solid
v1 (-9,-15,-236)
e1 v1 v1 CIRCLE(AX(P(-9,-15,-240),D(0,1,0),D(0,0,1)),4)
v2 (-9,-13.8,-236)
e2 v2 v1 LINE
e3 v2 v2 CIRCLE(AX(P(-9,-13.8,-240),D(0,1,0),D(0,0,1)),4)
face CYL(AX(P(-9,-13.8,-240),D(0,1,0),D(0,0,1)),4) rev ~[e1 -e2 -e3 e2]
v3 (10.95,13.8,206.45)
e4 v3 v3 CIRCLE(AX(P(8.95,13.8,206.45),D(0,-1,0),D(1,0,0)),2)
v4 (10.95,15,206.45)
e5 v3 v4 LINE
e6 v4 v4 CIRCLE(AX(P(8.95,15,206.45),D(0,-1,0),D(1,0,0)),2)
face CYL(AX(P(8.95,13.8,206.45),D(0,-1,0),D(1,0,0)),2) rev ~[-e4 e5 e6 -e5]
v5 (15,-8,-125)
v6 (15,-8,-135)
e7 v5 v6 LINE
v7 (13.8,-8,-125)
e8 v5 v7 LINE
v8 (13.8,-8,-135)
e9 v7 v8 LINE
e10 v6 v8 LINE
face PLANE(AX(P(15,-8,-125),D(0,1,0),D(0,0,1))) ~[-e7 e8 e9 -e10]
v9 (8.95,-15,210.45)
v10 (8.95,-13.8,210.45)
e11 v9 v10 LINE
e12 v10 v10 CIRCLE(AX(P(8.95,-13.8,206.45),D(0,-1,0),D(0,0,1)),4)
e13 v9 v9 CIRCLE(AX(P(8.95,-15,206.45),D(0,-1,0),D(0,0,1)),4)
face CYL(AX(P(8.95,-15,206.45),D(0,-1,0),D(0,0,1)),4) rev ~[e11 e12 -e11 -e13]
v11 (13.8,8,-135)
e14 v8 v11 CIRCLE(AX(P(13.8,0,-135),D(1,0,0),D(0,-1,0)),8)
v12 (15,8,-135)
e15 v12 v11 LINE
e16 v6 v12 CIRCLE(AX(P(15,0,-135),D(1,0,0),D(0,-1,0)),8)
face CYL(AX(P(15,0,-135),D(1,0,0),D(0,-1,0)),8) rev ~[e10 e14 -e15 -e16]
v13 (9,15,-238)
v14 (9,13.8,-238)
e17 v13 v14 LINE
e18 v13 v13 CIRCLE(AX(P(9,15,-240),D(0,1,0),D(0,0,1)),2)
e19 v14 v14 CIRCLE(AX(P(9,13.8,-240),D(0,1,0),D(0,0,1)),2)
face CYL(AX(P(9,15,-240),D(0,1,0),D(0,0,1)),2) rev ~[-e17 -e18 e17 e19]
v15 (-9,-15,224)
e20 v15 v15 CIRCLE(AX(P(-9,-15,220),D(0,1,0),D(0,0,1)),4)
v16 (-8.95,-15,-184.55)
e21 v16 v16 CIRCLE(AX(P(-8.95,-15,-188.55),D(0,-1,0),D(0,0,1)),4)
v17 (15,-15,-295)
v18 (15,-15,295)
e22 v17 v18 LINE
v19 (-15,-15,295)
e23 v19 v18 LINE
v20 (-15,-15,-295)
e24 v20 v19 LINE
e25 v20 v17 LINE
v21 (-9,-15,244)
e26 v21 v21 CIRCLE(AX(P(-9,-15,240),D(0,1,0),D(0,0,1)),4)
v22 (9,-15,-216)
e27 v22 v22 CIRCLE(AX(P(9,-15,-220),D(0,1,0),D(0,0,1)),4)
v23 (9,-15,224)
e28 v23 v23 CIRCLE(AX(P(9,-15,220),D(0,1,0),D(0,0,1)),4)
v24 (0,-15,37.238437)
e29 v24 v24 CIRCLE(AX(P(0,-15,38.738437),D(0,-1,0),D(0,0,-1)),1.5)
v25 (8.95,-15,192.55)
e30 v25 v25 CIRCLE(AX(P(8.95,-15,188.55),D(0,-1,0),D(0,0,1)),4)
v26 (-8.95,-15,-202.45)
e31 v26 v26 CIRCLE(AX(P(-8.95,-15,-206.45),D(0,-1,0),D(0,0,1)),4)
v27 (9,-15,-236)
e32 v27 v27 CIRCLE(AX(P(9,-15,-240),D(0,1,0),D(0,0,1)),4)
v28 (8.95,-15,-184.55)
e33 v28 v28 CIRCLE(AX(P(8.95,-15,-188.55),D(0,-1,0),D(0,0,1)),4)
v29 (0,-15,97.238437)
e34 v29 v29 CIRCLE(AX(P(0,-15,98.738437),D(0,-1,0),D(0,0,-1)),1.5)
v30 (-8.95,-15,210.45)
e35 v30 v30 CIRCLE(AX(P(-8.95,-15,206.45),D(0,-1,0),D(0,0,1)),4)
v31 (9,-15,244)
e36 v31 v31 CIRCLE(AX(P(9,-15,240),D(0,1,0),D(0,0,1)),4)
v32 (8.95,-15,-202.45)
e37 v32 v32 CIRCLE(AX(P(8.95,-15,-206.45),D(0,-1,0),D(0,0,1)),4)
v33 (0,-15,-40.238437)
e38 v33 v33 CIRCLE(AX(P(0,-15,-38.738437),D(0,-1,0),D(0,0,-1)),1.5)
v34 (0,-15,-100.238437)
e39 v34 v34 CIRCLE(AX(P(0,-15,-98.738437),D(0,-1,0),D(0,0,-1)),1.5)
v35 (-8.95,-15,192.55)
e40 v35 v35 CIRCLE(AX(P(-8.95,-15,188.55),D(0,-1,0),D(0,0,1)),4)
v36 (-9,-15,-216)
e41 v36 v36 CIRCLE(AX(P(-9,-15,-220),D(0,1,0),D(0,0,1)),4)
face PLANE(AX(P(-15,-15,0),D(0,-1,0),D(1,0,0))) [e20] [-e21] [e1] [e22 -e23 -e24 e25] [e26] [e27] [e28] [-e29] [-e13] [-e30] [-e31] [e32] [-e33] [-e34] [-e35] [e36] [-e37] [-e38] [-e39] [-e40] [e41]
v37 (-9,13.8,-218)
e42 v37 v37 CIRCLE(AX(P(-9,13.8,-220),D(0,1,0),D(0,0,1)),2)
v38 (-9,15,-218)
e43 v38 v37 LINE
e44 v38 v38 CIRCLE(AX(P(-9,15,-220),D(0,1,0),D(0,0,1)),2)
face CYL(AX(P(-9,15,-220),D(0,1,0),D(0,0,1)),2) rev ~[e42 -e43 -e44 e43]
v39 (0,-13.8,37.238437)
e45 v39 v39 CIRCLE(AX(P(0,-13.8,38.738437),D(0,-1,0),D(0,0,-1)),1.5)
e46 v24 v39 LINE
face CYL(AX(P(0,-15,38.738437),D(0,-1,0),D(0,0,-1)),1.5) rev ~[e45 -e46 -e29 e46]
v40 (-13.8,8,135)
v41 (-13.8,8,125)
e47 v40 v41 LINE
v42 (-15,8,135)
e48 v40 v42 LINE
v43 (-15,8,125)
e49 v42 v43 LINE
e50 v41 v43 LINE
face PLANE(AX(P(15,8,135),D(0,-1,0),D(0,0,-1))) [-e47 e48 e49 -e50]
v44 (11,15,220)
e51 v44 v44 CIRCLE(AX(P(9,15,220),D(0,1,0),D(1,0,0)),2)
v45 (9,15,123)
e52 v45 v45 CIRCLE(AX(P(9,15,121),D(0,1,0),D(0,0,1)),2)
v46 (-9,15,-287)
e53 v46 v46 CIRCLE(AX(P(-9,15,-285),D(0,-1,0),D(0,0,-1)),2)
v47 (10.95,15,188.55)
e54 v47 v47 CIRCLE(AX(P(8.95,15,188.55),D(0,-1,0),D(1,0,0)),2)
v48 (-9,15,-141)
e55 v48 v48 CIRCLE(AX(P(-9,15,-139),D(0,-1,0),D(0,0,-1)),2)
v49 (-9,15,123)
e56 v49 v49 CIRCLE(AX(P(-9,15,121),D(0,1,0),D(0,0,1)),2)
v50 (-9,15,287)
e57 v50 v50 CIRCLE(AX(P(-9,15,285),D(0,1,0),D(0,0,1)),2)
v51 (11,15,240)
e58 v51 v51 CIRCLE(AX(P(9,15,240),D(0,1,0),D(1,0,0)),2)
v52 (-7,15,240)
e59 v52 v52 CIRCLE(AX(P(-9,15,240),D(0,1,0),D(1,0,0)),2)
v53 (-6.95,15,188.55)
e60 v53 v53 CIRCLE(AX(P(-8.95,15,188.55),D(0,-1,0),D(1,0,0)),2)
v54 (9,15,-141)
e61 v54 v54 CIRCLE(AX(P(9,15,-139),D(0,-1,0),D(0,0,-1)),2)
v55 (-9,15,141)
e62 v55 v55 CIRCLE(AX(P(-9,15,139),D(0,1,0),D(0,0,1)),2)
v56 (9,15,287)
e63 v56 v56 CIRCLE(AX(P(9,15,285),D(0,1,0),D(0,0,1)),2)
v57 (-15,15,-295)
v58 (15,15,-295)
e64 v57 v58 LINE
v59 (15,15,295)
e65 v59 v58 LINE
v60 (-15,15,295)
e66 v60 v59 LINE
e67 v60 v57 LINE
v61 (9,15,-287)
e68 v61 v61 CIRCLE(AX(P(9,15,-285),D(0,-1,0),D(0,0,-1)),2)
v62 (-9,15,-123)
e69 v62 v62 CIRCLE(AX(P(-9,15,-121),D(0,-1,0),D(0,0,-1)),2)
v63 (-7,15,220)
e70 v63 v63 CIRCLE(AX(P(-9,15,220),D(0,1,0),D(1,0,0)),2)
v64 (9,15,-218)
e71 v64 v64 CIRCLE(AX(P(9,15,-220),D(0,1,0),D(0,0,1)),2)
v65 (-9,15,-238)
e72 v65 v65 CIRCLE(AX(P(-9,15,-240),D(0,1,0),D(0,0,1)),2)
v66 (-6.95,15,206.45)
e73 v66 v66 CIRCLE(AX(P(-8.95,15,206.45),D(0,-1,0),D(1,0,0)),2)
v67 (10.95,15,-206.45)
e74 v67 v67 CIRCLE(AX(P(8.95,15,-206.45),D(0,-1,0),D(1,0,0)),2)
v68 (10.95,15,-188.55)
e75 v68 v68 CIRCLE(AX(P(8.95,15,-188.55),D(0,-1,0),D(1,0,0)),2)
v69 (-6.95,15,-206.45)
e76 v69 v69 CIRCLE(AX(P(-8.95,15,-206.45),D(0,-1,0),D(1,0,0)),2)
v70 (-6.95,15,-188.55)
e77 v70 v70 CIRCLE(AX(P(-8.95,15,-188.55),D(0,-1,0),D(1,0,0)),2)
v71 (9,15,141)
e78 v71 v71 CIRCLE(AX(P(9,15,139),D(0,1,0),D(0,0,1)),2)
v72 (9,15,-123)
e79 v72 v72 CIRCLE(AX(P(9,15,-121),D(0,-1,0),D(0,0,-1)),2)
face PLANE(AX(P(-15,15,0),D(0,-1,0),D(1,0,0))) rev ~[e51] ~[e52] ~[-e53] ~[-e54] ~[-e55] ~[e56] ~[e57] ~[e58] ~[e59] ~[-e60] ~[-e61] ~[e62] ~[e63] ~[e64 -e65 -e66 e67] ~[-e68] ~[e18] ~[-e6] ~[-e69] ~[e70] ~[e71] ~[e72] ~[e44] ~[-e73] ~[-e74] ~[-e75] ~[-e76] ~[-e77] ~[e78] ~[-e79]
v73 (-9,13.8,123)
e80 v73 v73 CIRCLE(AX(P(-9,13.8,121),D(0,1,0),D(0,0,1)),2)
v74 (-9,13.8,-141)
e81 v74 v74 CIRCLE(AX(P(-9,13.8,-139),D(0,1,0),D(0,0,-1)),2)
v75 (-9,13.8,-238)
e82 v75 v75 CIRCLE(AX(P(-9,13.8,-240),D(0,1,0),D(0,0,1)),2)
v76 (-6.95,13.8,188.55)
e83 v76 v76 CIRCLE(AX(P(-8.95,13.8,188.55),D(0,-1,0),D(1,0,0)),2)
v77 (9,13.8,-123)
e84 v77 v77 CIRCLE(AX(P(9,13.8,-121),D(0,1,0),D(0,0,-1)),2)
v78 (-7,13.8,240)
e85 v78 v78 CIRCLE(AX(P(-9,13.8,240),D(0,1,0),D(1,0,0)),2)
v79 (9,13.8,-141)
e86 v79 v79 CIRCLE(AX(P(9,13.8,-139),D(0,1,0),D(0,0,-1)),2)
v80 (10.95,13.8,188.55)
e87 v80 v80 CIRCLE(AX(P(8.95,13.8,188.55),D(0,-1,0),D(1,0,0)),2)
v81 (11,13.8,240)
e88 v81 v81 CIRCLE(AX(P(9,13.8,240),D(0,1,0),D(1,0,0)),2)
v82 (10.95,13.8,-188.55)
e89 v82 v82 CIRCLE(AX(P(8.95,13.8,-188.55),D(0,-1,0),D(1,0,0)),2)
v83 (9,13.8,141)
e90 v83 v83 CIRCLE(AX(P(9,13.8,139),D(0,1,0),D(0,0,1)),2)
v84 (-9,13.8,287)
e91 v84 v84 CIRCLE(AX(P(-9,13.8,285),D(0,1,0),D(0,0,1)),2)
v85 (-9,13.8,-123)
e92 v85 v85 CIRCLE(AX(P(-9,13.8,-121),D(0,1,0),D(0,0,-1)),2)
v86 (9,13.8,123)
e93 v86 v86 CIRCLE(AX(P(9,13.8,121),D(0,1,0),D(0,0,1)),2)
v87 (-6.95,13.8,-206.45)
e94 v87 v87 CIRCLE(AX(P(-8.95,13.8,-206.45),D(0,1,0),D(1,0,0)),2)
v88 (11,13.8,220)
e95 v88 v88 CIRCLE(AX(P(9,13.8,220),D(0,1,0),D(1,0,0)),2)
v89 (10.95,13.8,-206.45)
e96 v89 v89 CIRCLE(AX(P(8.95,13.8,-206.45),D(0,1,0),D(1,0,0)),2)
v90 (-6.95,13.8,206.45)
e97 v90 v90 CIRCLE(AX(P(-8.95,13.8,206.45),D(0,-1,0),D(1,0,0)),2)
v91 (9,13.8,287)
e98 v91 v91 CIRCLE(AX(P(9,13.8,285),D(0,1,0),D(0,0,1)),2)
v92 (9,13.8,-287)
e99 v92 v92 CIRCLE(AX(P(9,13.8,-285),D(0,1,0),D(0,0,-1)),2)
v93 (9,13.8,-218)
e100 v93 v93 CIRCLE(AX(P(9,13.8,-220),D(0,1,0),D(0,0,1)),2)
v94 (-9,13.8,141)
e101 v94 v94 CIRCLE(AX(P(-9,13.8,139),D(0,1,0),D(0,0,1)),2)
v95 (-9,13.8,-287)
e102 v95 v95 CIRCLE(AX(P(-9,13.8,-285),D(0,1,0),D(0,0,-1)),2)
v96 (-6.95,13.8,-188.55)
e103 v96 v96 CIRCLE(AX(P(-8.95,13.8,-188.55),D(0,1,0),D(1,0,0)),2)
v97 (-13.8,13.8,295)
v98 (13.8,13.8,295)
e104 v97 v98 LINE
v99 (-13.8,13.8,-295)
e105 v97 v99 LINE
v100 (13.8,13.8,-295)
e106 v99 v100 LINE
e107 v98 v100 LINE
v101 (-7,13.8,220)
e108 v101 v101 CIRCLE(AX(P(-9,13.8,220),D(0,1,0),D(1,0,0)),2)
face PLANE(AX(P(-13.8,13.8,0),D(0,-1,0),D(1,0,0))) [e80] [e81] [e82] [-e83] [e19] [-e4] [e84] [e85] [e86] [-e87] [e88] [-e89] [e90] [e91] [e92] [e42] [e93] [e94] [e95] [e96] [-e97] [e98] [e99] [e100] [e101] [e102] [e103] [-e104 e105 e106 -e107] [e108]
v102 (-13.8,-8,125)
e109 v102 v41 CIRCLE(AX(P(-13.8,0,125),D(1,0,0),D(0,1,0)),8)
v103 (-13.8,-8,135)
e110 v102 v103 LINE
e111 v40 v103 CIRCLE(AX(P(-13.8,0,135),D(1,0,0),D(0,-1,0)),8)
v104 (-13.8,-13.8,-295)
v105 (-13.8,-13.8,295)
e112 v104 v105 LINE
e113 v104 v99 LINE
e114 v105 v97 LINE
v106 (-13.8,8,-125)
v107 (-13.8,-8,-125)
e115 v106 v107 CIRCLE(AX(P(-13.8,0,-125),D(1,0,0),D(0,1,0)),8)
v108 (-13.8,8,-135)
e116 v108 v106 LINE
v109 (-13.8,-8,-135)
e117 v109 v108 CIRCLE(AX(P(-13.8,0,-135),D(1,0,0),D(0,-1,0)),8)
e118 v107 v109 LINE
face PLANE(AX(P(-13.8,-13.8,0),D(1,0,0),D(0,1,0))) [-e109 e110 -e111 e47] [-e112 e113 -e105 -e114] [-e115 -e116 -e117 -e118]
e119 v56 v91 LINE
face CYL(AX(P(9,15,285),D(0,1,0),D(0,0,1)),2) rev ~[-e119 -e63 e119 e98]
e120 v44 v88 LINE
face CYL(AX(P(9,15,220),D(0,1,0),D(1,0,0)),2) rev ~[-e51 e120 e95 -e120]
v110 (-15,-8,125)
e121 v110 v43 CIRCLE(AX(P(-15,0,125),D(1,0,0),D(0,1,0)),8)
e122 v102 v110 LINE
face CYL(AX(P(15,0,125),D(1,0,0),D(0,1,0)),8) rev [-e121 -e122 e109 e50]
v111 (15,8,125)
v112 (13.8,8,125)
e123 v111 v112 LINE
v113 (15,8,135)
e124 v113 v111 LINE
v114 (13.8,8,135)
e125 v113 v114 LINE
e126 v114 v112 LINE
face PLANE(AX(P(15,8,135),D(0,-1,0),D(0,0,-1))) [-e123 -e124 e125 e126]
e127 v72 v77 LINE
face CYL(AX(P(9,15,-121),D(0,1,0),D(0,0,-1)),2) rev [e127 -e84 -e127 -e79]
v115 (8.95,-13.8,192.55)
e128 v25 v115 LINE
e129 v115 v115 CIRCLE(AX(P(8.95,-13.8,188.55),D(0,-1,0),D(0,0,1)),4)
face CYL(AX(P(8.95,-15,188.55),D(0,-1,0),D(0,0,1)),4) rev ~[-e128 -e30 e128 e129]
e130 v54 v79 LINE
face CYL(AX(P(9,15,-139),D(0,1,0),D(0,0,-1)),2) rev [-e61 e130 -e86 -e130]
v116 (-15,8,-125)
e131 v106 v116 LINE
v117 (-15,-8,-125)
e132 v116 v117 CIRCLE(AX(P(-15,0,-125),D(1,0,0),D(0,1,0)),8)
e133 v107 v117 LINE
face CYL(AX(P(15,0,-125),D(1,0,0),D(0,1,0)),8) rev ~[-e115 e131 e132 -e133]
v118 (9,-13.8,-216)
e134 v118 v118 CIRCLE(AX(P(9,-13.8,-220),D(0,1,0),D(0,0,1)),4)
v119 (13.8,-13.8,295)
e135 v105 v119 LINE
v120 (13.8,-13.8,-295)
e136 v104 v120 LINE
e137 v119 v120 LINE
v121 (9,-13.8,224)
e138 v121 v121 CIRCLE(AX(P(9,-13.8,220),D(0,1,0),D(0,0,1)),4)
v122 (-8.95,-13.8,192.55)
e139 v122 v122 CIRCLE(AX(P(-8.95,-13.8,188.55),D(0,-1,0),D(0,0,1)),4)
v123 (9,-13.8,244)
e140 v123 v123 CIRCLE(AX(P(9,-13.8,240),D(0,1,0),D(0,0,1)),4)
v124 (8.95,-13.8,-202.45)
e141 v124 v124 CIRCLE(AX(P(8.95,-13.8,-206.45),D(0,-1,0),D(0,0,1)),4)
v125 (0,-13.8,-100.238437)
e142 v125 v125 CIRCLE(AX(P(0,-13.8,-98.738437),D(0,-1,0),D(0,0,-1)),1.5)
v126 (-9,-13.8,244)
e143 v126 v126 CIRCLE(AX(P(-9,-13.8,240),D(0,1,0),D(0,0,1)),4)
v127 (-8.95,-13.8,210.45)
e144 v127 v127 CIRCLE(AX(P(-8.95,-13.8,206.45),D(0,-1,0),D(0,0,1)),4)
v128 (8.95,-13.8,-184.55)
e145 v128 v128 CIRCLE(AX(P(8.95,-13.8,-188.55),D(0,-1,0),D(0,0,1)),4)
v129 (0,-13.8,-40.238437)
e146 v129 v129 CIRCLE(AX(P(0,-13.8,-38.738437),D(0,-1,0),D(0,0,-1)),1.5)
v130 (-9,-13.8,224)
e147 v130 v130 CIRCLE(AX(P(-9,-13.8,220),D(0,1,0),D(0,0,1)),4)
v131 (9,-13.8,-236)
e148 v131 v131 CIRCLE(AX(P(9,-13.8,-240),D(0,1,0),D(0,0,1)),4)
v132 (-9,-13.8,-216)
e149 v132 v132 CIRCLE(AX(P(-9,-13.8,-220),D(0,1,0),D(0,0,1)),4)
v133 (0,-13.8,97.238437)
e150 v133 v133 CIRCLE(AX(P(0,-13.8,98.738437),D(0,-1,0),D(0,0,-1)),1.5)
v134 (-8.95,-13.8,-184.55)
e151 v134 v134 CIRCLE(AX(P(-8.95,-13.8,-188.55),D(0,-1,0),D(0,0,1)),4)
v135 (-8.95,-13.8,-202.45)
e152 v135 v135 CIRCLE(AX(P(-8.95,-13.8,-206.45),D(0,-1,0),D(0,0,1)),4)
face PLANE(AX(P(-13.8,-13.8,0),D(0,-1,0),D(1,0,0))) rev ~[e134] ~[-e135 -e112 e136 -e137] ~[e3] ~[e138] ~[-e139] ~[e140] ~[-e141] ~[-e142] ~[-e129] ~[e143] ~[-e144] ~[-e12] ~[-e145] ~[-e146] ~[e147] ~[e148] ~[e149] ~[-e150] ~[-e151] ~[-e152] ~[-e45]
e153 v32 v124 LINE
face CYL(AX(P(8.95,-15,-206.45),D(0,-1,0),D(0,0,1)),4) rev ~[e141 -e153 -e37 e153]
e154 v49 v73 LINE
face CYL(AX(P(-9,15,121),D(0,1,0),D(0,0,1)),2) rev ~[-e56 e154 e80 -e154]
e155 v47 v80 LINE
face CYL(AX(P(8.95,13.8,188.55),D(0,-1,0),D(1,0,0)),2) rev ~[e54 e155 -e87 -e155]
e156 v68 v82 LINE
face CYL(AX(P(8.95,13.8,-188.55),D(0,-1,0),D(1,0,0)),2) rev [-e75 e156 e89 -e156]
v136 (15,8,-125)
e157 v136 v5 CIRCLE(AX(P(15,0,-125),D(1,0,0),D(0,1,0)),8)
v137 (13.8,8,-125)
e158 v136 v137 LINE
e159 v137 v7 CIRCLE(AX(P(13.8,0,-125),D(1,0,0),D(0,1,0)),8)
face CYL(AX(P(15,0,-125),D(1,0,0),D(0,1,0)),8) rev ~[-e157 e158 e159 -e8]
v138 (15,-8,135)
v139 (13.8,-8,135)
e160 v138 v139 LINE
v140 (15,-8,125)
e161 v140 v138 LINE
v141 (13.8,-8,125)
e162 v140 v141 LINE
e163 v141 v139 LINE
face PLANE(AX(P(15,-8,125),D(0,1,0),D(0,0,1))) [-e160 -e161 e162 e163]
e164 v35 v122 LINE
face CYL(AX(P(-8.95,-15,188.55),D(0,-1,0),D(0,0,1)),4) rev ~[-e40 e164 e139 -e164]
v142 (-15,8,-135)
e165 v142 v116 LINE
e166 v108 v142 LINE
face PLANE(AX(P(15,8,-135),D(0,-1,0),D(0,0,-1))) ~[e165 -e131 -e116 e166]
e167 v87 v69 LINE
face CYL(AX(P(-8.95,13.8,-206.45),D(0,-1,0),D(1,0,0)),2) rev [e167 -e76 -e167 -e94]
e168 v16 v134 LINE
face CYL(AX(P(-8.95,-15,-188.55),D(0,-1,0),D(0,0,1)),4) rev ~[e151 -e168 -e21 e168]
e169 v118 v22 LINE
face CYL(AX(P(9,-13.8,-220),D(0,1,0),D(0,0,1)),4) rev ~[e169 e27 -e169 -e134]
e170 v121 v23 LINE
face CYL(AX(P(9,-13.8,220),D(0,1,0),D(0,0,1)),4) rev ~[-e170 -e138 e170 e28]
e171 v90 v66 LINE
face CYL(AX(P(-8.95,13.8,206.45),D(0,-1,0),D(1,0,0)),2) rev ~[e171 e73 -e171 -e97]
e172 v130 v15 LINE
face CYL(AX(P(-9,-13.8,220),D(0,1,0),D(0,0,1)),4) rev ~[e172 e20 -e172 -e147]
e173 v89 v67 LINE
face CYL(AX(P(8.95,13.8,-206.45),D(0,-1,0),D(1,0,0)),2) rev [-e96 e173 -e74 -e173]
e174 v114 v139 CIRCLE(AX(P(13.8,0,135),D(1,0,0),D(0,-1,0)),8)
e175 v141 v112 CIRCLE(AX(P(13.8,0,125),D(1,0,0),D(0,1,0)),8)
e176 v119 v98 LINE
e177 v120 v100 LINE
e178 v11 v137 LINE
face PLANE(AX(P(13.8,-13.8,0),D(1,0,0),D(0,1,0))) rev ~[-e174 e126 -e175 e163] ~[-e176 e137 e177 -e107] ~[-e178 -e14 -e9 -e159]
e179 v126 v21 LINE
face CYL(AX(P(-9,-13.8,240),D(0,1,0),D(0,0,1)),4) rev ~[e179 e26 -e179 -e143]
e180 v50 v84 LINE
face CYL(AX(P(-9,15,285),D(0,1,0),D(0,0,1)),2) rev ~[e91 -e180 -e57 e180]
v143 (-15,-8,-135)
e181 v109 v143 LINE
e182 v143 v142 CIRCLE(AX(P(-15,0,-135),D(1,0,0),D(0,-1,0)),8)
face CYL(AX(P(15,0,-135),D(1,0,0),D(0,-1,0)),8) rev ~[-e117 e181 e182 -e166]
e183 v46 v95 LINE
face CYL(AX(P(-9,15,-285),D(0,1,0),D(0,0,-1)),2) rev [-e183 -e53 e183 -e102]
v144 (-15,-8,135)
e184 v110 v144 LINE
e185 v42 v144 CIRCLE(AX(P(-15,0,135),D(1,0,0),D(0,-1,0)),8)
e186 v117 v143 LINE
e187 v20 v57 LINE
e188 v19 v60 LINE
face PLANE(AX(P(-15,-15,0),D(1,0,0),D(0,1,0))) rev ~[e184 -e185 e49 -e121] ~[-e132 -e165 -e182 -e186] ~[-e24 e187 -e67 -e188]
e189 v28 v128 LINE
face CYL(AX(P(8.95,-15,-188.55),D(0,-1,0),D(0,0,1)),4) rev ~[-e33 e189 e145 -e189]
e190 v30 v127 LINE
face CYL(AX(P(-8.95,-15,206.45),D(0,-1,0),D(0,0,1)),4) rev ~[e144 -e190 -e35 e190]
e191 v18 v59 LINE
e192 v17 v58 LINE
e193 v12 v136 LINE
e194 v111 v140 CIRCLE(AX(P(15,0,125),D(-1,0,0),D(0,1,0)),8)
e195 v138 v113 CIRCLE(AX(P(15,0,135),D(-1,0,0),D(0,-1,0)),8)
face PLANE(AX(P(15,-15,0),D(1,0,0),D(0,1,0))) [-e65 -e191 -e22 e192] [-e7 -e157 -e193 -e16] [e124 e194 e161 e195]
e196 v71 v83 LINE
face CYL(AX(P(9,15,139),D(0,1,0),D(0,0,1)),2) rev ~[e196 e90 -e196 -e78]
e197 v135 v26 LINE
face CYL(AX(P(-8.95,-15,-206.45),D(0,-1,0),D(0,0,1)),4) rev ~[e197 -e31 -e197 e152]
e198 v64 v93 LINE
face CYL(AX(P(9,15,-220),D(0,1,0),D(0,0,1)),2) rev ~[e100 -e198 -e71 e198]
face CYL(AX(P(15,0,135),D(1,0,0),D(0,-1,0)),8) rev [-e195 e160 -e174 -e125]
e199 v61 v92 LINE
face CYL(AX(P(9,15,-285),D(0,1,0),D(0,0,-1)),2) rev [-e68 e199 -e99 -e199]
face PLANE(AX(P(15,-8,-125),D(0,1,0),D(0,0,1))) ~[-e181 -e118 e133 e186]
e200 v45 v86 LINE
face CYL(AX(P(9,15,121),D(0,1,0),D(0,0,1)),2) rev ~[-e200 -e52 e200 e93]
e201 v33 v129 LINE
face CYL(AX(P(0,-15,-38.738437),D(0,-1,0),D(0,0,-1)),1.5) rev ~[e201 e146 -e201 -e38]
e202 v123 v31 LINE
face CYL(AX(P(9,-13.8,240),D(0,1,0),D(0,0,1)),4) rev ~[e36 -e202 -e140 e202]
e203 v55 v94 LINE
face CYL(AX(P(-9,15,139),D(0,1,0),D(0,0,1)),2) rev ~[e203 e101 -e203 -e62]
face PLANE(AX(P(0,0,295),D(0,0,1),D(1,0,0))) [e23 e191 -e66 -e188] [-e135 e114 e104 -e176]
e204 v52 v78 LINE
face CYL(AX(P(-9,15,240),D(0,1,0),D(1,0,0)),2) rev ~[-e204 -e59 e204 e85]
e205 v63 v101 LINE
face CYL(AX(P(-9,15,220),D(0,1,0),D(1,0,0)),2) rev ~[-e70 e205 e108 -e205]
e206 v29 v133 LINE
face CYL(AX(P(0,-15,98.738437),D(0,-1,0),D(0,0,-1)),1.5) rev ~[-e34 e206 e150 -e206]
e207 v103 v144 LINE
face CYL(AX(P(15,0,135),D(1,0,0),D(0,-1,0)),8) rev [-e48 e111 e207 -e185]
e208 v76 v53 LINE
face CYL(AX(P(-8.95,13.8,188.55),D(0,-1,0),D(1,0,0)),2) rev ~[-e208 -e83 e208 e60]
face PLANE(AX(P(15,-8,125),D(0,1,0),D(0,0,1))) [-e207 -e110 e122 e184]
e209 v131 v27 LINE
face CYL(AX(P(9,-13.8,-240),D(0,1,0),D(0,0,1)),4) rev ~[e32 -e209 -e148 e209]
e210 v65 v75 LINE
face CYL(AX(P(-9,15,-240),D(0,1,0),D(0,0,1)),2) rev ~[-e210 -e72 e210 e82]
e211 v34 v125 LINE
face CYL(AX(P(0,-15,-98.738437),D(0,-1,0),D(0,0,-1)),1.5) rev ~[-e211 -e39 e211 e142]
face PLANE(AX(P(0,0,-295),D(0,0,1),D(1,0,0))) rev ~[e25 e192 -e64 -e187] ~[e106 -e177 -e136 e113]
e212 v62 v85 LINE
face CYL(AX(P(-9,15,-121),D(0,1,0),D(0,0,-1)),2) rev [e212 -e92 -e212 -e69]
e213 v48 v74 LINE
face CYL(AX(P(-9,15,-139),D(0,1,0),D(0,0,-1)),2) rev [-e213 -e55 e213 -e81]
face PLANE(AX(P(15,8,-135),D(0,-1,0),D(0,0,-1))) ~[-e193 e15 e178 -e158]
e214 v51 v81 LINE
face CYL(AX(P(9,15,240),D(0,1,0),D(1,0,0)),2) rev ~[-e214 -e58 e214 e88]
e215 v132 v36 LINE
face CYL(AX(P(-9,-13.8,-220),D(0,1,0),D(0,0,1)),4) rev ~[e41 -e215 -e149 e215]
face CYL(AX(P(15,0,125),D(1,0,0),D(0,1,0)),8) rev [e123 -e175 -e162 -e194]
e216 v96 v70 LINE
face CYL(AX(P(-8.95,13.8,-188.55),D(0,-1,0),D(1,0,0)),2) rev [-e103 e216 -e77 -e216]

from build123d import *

# Parameters (mm, degrees)
SKETCH_1_W          = 30
SKETCH_1_H          = 30
SKETCH_1_W_2        = 27.6
SKETCH_1_H_2        = 27.6
EXTRUDE_1_DEPTH     = 295
SKETCH_2_R          = 2
CUT_EXTRUDE_1_DEPTH = 10
SKETCH_3_R          = 4
CUT_EXTRUDE_2_DEPTH = 10
CUT_EXTRUDE_3_DEPTH = 111
SKETCH_5_R          = 2
CUT_EXTRUDE_4_DEPTH = 10
SKETCH_6_R          = 2
CUT_EXTRUDE_5_DEPTH = 10
SKETCH_7_R          = 1.5
CUT_EXTRUDE_6_DEPTH = 10
SKETCH_8_R          = 2
CUT_EXTRUDE_7_DEPTH = 46
SKETCH_9_R          = 4
CUT_EXTRUDE_8_DEPTH = 5


with BuildPart() as part:
    # 草图1 → 凸台-拉伸1 (new, symmetric)
    with BuildSketch(Plane.XY):
        Rectangle(SKETCH_1_W, SKETCH_1_H)
        Rectangle(SKETCH_1_W_2, SKETCH_1_H_2, mode=Mode.SUBTRACT)
    extrude(amount=EXTRUDE_1_DEPTH, both=True)

    # 草图2 → 切除-拉伸1 (cut)
    with BuildSketch(Plane(origin=(0, 15, 0), x_dir=(1, 0, 0), z_dir=(0, 1, 0))):
        with Locations(Location((-9, 220, 0), (0, 0, 270))):
            Circle(SKETCH_2_R)
        with Locations(Location((9, 220, 0), (0, 0, 270))):
            Circle(SKETCH_2_R)
        with Locations(Location((-9, 240, 0), (0, 0, 270))):
            Circle(SKETCH_2_R)
        with Locations(Location((9, 240, 0), (0, 0, 270))):
            Circle(SKETCH_2_R)
        with Locations((9, -240)):
            Circle(SKETCH_2_R)
        with Locations((-9, -240)):
            Circle(SKETCH_2_R)
        with Locations((9, -220)):
            Circle(SKETCH_2_R)
        with Locations((-9, -220)):
            Circle(SKETCH_2_R)
    extrude(amount=-CUT_EXTRUDE_1_DEPTH, mode=Mode.SUBTRACT)

    # 草图3 → 切除-拉伸2 (cut)
    with BuildSketch(Plane(origin=(0, -13.8, 0), x_dir=(1, 0, 0), z_dir=(0, 1, 0))):
        with Locations(Location((-9, 240, 0), (0, 0, 270))):
            Circle(SKETCH_3_R)
        with Locations(Location((9, 240, 0), (0, 0, 270))):
            Circle(SKETCH_3_R)
        with Locations(Location((-9, 220, 0), (0, 0, 270))):
            Circle(SKETCH_3_R)
        with Locations(Location((9, 220, 0), (0, 0, 270))):
            Circle(SKETCH_3_R)
        with Locations(Location((9, -220, 0), (0, 0, 270))):
            Circle(SKETCH_3_R)
        with Locations(Location((-9, -220, 0), (0, 0, 270))):
            Circle(SKETCH_3_R)
        with Locations(Location((9, -240, 0), (0, 0, 270))):
            Circle(SKETCH_3_R)
        with Locations(Location((-9, -240, 0), (0, 0, 270))):
            Circle(SKETCH_3_R)
    extrude(amount=-CUT_EXTRUDE_2_DEPTH, mode=Mode.SUBTRACT)

    # 草图4 → 切除-拉伸3 (cut)
    with BuildSketch(Plane(origin=(15, 0, 0), x_dir=(0, 0, -1), z_dir=(1, 0, 0))):
        with BuildLine():
            Line((-135, 8), (-125, 8))
            ThreePointArc((-125, 8), (-117, 0), (-125, -8))
            Line((-125, -8), (-135, -8))
            ThreePointArc((-135, -8), (-143, 0), (-135, 8))
        make_face()
    cut_extrude_3 = extrude(amount=-CUT_EXTRUDE_3_DEPTH, mode=Mode.SUBTRACT)

    # 镜向1: 切除-拉伸3 across plane
    add(cut_extrude_3.mirror(Plane.XY), mode=Mode.SUBTRACT)

    # 草图5 → 切除-拉伸4 (cut)
    with BuildSketch(Plane(origin=(0, 15, 0), x_dir=(1, 0, 0), z_dir=(0, 1, 0))):
        with Locations(Location((-9, -139, 0), (0, 0, 270))):
            Circle(SKETCH_5_R)
        with Locations(Location((-9, -121, 0), (0, 0, 270))):
            Circle(SKETCH_5_R)
        with Locations(Location((9, -121, 0), (0, 0, 270))):
            Circle(SKETCH_5_R)
        with Locations(Location((9, -139, 0), (0, 0, 270))):
            Circle(SKETCH_5_R)
    cut_extrude_4 = extrude(amount=-CUT_EXTRUDE_4_DEPTH, mode=Mode.SUBTRACT)

    # 镜向2: 切除-拉伸4 across plane
    add(cut_extrude_4.mirror(Plane.XY), mode=Mode.SUBTRACT)

    # 草图6 → 切除-拉伸5 (cut)
    with BuildSketch(Plane(origin=(0, 15, 0), x_dir=(1, 0, 0), z_dir=(0, 1, 0))):
        with Locations(Location((-9, -285, 0), (0, 0, 270))):
            Circle(SKETCH_6_R)
        with Locations(Location((9, -285, 0), (0, 0, 270))):
            Circle(SKETCH_6_R)
    cut_extrude_5 = extrude(amount=-CUT_EXTRUDE_5_DEPTH, mode=Mode.SUBTRACT)

    # 镜向3: 切除-拉伸5 across plane
    add(cut_extrude_5.mirror(Plane.XY), mode=Mode.SUBTRACT)

    # 草图7 → 切除-拉伸6 (cut)
    with BuildSketch(Plane.XZ.offset(15)):
        with Locations(Location((0, 98.738437042, 0), (0, 0, 270))):
            Circle(SKETCH_7_R)
        with Locations(Location((0, 38.738437042, 0), (0, 0, 270))):
            Circle(SKETCH_7_R)
        with Locations(Location((0, -38.738437042, 0), (0, 0, 270))):
            Circle(SKETCH_7_R)
        with Locations(Location((0, -98.738437042, 0), (0, 0, 270))):
            Circle(SKETCH_7_R)
    extrude(amount=-CUT_EXTRUDE_6_DEPTH, mode=Mode.SUBTRACT)

    # 草图8 → 切除-拉伸7 (cut, symmetric)
    with BuildSketch(Plane.XZ.offset(-13.8)):
        with Locations((8.95, 206.45)):
            Circle(SKETCH_8_R)
        with Locations((-8.95, 206.45)):
            Circle(SKETCH_8_R)
        with Locations((-8.95, 188.55)):
            Circle(SKETCH_8_R)
        with Locations((8.95, 188.55)):
            Circle(SKETCH_8_R)
    cut_extrude_7 = extrude(amount=CUT_EXTRUDE_7_DEPTH, both=True, mode=Mode.SUBTRACT)

    # 镜向4: 切除-拉伸7 across plane
    add(cut_extrude_7.mirror(Plane.XY), mode=Mode.SUBTRACT)

    # 草图9 → 切除-拉伸8 (cut, symmetric)
    with BuildSketch(Plane.XZ.offset(15)):
        with Locations(Location((-8.95, 206.45, 0), (0, 0, 90))):
            Circle(SKETCH_9_R)
        with Locations(Location((8.95, 206.45, 0), (0, 0, 90))):
            Circle(SKETCH_9_R)
        with Locations(Location((8.95, 188.55, 0), (0, 0, 90))):
            Circle(SKETCH_9_R)
        with Locations(Location((-8.95, 188.55, 0), (0, 0, 90))):
            Circle(SKETCH_9_R)
        with Locations(Location((-8.95, -188.55, 0), (0, 0, 90))):
            Circle(SKETCH_9_R)
        with Locations(Location((8.95, -188.55, 0), (0, 0, 90))):
            Circle(SKETCH_9_R)
        with Locations(Location((8.95, -206.45, 0), (0, 0, 90))):
            Circle(SKETCH_9_R)
        with Locations(Location((-8.95, -206.45, 0), (0, 0, 90))):
            Circle(SKETCH_9_R)
    extrude(amount=CUT_EXTRUDE_8_DEPTH, both=True, mode=Mode.SUBTRACT)


solid = part.part
